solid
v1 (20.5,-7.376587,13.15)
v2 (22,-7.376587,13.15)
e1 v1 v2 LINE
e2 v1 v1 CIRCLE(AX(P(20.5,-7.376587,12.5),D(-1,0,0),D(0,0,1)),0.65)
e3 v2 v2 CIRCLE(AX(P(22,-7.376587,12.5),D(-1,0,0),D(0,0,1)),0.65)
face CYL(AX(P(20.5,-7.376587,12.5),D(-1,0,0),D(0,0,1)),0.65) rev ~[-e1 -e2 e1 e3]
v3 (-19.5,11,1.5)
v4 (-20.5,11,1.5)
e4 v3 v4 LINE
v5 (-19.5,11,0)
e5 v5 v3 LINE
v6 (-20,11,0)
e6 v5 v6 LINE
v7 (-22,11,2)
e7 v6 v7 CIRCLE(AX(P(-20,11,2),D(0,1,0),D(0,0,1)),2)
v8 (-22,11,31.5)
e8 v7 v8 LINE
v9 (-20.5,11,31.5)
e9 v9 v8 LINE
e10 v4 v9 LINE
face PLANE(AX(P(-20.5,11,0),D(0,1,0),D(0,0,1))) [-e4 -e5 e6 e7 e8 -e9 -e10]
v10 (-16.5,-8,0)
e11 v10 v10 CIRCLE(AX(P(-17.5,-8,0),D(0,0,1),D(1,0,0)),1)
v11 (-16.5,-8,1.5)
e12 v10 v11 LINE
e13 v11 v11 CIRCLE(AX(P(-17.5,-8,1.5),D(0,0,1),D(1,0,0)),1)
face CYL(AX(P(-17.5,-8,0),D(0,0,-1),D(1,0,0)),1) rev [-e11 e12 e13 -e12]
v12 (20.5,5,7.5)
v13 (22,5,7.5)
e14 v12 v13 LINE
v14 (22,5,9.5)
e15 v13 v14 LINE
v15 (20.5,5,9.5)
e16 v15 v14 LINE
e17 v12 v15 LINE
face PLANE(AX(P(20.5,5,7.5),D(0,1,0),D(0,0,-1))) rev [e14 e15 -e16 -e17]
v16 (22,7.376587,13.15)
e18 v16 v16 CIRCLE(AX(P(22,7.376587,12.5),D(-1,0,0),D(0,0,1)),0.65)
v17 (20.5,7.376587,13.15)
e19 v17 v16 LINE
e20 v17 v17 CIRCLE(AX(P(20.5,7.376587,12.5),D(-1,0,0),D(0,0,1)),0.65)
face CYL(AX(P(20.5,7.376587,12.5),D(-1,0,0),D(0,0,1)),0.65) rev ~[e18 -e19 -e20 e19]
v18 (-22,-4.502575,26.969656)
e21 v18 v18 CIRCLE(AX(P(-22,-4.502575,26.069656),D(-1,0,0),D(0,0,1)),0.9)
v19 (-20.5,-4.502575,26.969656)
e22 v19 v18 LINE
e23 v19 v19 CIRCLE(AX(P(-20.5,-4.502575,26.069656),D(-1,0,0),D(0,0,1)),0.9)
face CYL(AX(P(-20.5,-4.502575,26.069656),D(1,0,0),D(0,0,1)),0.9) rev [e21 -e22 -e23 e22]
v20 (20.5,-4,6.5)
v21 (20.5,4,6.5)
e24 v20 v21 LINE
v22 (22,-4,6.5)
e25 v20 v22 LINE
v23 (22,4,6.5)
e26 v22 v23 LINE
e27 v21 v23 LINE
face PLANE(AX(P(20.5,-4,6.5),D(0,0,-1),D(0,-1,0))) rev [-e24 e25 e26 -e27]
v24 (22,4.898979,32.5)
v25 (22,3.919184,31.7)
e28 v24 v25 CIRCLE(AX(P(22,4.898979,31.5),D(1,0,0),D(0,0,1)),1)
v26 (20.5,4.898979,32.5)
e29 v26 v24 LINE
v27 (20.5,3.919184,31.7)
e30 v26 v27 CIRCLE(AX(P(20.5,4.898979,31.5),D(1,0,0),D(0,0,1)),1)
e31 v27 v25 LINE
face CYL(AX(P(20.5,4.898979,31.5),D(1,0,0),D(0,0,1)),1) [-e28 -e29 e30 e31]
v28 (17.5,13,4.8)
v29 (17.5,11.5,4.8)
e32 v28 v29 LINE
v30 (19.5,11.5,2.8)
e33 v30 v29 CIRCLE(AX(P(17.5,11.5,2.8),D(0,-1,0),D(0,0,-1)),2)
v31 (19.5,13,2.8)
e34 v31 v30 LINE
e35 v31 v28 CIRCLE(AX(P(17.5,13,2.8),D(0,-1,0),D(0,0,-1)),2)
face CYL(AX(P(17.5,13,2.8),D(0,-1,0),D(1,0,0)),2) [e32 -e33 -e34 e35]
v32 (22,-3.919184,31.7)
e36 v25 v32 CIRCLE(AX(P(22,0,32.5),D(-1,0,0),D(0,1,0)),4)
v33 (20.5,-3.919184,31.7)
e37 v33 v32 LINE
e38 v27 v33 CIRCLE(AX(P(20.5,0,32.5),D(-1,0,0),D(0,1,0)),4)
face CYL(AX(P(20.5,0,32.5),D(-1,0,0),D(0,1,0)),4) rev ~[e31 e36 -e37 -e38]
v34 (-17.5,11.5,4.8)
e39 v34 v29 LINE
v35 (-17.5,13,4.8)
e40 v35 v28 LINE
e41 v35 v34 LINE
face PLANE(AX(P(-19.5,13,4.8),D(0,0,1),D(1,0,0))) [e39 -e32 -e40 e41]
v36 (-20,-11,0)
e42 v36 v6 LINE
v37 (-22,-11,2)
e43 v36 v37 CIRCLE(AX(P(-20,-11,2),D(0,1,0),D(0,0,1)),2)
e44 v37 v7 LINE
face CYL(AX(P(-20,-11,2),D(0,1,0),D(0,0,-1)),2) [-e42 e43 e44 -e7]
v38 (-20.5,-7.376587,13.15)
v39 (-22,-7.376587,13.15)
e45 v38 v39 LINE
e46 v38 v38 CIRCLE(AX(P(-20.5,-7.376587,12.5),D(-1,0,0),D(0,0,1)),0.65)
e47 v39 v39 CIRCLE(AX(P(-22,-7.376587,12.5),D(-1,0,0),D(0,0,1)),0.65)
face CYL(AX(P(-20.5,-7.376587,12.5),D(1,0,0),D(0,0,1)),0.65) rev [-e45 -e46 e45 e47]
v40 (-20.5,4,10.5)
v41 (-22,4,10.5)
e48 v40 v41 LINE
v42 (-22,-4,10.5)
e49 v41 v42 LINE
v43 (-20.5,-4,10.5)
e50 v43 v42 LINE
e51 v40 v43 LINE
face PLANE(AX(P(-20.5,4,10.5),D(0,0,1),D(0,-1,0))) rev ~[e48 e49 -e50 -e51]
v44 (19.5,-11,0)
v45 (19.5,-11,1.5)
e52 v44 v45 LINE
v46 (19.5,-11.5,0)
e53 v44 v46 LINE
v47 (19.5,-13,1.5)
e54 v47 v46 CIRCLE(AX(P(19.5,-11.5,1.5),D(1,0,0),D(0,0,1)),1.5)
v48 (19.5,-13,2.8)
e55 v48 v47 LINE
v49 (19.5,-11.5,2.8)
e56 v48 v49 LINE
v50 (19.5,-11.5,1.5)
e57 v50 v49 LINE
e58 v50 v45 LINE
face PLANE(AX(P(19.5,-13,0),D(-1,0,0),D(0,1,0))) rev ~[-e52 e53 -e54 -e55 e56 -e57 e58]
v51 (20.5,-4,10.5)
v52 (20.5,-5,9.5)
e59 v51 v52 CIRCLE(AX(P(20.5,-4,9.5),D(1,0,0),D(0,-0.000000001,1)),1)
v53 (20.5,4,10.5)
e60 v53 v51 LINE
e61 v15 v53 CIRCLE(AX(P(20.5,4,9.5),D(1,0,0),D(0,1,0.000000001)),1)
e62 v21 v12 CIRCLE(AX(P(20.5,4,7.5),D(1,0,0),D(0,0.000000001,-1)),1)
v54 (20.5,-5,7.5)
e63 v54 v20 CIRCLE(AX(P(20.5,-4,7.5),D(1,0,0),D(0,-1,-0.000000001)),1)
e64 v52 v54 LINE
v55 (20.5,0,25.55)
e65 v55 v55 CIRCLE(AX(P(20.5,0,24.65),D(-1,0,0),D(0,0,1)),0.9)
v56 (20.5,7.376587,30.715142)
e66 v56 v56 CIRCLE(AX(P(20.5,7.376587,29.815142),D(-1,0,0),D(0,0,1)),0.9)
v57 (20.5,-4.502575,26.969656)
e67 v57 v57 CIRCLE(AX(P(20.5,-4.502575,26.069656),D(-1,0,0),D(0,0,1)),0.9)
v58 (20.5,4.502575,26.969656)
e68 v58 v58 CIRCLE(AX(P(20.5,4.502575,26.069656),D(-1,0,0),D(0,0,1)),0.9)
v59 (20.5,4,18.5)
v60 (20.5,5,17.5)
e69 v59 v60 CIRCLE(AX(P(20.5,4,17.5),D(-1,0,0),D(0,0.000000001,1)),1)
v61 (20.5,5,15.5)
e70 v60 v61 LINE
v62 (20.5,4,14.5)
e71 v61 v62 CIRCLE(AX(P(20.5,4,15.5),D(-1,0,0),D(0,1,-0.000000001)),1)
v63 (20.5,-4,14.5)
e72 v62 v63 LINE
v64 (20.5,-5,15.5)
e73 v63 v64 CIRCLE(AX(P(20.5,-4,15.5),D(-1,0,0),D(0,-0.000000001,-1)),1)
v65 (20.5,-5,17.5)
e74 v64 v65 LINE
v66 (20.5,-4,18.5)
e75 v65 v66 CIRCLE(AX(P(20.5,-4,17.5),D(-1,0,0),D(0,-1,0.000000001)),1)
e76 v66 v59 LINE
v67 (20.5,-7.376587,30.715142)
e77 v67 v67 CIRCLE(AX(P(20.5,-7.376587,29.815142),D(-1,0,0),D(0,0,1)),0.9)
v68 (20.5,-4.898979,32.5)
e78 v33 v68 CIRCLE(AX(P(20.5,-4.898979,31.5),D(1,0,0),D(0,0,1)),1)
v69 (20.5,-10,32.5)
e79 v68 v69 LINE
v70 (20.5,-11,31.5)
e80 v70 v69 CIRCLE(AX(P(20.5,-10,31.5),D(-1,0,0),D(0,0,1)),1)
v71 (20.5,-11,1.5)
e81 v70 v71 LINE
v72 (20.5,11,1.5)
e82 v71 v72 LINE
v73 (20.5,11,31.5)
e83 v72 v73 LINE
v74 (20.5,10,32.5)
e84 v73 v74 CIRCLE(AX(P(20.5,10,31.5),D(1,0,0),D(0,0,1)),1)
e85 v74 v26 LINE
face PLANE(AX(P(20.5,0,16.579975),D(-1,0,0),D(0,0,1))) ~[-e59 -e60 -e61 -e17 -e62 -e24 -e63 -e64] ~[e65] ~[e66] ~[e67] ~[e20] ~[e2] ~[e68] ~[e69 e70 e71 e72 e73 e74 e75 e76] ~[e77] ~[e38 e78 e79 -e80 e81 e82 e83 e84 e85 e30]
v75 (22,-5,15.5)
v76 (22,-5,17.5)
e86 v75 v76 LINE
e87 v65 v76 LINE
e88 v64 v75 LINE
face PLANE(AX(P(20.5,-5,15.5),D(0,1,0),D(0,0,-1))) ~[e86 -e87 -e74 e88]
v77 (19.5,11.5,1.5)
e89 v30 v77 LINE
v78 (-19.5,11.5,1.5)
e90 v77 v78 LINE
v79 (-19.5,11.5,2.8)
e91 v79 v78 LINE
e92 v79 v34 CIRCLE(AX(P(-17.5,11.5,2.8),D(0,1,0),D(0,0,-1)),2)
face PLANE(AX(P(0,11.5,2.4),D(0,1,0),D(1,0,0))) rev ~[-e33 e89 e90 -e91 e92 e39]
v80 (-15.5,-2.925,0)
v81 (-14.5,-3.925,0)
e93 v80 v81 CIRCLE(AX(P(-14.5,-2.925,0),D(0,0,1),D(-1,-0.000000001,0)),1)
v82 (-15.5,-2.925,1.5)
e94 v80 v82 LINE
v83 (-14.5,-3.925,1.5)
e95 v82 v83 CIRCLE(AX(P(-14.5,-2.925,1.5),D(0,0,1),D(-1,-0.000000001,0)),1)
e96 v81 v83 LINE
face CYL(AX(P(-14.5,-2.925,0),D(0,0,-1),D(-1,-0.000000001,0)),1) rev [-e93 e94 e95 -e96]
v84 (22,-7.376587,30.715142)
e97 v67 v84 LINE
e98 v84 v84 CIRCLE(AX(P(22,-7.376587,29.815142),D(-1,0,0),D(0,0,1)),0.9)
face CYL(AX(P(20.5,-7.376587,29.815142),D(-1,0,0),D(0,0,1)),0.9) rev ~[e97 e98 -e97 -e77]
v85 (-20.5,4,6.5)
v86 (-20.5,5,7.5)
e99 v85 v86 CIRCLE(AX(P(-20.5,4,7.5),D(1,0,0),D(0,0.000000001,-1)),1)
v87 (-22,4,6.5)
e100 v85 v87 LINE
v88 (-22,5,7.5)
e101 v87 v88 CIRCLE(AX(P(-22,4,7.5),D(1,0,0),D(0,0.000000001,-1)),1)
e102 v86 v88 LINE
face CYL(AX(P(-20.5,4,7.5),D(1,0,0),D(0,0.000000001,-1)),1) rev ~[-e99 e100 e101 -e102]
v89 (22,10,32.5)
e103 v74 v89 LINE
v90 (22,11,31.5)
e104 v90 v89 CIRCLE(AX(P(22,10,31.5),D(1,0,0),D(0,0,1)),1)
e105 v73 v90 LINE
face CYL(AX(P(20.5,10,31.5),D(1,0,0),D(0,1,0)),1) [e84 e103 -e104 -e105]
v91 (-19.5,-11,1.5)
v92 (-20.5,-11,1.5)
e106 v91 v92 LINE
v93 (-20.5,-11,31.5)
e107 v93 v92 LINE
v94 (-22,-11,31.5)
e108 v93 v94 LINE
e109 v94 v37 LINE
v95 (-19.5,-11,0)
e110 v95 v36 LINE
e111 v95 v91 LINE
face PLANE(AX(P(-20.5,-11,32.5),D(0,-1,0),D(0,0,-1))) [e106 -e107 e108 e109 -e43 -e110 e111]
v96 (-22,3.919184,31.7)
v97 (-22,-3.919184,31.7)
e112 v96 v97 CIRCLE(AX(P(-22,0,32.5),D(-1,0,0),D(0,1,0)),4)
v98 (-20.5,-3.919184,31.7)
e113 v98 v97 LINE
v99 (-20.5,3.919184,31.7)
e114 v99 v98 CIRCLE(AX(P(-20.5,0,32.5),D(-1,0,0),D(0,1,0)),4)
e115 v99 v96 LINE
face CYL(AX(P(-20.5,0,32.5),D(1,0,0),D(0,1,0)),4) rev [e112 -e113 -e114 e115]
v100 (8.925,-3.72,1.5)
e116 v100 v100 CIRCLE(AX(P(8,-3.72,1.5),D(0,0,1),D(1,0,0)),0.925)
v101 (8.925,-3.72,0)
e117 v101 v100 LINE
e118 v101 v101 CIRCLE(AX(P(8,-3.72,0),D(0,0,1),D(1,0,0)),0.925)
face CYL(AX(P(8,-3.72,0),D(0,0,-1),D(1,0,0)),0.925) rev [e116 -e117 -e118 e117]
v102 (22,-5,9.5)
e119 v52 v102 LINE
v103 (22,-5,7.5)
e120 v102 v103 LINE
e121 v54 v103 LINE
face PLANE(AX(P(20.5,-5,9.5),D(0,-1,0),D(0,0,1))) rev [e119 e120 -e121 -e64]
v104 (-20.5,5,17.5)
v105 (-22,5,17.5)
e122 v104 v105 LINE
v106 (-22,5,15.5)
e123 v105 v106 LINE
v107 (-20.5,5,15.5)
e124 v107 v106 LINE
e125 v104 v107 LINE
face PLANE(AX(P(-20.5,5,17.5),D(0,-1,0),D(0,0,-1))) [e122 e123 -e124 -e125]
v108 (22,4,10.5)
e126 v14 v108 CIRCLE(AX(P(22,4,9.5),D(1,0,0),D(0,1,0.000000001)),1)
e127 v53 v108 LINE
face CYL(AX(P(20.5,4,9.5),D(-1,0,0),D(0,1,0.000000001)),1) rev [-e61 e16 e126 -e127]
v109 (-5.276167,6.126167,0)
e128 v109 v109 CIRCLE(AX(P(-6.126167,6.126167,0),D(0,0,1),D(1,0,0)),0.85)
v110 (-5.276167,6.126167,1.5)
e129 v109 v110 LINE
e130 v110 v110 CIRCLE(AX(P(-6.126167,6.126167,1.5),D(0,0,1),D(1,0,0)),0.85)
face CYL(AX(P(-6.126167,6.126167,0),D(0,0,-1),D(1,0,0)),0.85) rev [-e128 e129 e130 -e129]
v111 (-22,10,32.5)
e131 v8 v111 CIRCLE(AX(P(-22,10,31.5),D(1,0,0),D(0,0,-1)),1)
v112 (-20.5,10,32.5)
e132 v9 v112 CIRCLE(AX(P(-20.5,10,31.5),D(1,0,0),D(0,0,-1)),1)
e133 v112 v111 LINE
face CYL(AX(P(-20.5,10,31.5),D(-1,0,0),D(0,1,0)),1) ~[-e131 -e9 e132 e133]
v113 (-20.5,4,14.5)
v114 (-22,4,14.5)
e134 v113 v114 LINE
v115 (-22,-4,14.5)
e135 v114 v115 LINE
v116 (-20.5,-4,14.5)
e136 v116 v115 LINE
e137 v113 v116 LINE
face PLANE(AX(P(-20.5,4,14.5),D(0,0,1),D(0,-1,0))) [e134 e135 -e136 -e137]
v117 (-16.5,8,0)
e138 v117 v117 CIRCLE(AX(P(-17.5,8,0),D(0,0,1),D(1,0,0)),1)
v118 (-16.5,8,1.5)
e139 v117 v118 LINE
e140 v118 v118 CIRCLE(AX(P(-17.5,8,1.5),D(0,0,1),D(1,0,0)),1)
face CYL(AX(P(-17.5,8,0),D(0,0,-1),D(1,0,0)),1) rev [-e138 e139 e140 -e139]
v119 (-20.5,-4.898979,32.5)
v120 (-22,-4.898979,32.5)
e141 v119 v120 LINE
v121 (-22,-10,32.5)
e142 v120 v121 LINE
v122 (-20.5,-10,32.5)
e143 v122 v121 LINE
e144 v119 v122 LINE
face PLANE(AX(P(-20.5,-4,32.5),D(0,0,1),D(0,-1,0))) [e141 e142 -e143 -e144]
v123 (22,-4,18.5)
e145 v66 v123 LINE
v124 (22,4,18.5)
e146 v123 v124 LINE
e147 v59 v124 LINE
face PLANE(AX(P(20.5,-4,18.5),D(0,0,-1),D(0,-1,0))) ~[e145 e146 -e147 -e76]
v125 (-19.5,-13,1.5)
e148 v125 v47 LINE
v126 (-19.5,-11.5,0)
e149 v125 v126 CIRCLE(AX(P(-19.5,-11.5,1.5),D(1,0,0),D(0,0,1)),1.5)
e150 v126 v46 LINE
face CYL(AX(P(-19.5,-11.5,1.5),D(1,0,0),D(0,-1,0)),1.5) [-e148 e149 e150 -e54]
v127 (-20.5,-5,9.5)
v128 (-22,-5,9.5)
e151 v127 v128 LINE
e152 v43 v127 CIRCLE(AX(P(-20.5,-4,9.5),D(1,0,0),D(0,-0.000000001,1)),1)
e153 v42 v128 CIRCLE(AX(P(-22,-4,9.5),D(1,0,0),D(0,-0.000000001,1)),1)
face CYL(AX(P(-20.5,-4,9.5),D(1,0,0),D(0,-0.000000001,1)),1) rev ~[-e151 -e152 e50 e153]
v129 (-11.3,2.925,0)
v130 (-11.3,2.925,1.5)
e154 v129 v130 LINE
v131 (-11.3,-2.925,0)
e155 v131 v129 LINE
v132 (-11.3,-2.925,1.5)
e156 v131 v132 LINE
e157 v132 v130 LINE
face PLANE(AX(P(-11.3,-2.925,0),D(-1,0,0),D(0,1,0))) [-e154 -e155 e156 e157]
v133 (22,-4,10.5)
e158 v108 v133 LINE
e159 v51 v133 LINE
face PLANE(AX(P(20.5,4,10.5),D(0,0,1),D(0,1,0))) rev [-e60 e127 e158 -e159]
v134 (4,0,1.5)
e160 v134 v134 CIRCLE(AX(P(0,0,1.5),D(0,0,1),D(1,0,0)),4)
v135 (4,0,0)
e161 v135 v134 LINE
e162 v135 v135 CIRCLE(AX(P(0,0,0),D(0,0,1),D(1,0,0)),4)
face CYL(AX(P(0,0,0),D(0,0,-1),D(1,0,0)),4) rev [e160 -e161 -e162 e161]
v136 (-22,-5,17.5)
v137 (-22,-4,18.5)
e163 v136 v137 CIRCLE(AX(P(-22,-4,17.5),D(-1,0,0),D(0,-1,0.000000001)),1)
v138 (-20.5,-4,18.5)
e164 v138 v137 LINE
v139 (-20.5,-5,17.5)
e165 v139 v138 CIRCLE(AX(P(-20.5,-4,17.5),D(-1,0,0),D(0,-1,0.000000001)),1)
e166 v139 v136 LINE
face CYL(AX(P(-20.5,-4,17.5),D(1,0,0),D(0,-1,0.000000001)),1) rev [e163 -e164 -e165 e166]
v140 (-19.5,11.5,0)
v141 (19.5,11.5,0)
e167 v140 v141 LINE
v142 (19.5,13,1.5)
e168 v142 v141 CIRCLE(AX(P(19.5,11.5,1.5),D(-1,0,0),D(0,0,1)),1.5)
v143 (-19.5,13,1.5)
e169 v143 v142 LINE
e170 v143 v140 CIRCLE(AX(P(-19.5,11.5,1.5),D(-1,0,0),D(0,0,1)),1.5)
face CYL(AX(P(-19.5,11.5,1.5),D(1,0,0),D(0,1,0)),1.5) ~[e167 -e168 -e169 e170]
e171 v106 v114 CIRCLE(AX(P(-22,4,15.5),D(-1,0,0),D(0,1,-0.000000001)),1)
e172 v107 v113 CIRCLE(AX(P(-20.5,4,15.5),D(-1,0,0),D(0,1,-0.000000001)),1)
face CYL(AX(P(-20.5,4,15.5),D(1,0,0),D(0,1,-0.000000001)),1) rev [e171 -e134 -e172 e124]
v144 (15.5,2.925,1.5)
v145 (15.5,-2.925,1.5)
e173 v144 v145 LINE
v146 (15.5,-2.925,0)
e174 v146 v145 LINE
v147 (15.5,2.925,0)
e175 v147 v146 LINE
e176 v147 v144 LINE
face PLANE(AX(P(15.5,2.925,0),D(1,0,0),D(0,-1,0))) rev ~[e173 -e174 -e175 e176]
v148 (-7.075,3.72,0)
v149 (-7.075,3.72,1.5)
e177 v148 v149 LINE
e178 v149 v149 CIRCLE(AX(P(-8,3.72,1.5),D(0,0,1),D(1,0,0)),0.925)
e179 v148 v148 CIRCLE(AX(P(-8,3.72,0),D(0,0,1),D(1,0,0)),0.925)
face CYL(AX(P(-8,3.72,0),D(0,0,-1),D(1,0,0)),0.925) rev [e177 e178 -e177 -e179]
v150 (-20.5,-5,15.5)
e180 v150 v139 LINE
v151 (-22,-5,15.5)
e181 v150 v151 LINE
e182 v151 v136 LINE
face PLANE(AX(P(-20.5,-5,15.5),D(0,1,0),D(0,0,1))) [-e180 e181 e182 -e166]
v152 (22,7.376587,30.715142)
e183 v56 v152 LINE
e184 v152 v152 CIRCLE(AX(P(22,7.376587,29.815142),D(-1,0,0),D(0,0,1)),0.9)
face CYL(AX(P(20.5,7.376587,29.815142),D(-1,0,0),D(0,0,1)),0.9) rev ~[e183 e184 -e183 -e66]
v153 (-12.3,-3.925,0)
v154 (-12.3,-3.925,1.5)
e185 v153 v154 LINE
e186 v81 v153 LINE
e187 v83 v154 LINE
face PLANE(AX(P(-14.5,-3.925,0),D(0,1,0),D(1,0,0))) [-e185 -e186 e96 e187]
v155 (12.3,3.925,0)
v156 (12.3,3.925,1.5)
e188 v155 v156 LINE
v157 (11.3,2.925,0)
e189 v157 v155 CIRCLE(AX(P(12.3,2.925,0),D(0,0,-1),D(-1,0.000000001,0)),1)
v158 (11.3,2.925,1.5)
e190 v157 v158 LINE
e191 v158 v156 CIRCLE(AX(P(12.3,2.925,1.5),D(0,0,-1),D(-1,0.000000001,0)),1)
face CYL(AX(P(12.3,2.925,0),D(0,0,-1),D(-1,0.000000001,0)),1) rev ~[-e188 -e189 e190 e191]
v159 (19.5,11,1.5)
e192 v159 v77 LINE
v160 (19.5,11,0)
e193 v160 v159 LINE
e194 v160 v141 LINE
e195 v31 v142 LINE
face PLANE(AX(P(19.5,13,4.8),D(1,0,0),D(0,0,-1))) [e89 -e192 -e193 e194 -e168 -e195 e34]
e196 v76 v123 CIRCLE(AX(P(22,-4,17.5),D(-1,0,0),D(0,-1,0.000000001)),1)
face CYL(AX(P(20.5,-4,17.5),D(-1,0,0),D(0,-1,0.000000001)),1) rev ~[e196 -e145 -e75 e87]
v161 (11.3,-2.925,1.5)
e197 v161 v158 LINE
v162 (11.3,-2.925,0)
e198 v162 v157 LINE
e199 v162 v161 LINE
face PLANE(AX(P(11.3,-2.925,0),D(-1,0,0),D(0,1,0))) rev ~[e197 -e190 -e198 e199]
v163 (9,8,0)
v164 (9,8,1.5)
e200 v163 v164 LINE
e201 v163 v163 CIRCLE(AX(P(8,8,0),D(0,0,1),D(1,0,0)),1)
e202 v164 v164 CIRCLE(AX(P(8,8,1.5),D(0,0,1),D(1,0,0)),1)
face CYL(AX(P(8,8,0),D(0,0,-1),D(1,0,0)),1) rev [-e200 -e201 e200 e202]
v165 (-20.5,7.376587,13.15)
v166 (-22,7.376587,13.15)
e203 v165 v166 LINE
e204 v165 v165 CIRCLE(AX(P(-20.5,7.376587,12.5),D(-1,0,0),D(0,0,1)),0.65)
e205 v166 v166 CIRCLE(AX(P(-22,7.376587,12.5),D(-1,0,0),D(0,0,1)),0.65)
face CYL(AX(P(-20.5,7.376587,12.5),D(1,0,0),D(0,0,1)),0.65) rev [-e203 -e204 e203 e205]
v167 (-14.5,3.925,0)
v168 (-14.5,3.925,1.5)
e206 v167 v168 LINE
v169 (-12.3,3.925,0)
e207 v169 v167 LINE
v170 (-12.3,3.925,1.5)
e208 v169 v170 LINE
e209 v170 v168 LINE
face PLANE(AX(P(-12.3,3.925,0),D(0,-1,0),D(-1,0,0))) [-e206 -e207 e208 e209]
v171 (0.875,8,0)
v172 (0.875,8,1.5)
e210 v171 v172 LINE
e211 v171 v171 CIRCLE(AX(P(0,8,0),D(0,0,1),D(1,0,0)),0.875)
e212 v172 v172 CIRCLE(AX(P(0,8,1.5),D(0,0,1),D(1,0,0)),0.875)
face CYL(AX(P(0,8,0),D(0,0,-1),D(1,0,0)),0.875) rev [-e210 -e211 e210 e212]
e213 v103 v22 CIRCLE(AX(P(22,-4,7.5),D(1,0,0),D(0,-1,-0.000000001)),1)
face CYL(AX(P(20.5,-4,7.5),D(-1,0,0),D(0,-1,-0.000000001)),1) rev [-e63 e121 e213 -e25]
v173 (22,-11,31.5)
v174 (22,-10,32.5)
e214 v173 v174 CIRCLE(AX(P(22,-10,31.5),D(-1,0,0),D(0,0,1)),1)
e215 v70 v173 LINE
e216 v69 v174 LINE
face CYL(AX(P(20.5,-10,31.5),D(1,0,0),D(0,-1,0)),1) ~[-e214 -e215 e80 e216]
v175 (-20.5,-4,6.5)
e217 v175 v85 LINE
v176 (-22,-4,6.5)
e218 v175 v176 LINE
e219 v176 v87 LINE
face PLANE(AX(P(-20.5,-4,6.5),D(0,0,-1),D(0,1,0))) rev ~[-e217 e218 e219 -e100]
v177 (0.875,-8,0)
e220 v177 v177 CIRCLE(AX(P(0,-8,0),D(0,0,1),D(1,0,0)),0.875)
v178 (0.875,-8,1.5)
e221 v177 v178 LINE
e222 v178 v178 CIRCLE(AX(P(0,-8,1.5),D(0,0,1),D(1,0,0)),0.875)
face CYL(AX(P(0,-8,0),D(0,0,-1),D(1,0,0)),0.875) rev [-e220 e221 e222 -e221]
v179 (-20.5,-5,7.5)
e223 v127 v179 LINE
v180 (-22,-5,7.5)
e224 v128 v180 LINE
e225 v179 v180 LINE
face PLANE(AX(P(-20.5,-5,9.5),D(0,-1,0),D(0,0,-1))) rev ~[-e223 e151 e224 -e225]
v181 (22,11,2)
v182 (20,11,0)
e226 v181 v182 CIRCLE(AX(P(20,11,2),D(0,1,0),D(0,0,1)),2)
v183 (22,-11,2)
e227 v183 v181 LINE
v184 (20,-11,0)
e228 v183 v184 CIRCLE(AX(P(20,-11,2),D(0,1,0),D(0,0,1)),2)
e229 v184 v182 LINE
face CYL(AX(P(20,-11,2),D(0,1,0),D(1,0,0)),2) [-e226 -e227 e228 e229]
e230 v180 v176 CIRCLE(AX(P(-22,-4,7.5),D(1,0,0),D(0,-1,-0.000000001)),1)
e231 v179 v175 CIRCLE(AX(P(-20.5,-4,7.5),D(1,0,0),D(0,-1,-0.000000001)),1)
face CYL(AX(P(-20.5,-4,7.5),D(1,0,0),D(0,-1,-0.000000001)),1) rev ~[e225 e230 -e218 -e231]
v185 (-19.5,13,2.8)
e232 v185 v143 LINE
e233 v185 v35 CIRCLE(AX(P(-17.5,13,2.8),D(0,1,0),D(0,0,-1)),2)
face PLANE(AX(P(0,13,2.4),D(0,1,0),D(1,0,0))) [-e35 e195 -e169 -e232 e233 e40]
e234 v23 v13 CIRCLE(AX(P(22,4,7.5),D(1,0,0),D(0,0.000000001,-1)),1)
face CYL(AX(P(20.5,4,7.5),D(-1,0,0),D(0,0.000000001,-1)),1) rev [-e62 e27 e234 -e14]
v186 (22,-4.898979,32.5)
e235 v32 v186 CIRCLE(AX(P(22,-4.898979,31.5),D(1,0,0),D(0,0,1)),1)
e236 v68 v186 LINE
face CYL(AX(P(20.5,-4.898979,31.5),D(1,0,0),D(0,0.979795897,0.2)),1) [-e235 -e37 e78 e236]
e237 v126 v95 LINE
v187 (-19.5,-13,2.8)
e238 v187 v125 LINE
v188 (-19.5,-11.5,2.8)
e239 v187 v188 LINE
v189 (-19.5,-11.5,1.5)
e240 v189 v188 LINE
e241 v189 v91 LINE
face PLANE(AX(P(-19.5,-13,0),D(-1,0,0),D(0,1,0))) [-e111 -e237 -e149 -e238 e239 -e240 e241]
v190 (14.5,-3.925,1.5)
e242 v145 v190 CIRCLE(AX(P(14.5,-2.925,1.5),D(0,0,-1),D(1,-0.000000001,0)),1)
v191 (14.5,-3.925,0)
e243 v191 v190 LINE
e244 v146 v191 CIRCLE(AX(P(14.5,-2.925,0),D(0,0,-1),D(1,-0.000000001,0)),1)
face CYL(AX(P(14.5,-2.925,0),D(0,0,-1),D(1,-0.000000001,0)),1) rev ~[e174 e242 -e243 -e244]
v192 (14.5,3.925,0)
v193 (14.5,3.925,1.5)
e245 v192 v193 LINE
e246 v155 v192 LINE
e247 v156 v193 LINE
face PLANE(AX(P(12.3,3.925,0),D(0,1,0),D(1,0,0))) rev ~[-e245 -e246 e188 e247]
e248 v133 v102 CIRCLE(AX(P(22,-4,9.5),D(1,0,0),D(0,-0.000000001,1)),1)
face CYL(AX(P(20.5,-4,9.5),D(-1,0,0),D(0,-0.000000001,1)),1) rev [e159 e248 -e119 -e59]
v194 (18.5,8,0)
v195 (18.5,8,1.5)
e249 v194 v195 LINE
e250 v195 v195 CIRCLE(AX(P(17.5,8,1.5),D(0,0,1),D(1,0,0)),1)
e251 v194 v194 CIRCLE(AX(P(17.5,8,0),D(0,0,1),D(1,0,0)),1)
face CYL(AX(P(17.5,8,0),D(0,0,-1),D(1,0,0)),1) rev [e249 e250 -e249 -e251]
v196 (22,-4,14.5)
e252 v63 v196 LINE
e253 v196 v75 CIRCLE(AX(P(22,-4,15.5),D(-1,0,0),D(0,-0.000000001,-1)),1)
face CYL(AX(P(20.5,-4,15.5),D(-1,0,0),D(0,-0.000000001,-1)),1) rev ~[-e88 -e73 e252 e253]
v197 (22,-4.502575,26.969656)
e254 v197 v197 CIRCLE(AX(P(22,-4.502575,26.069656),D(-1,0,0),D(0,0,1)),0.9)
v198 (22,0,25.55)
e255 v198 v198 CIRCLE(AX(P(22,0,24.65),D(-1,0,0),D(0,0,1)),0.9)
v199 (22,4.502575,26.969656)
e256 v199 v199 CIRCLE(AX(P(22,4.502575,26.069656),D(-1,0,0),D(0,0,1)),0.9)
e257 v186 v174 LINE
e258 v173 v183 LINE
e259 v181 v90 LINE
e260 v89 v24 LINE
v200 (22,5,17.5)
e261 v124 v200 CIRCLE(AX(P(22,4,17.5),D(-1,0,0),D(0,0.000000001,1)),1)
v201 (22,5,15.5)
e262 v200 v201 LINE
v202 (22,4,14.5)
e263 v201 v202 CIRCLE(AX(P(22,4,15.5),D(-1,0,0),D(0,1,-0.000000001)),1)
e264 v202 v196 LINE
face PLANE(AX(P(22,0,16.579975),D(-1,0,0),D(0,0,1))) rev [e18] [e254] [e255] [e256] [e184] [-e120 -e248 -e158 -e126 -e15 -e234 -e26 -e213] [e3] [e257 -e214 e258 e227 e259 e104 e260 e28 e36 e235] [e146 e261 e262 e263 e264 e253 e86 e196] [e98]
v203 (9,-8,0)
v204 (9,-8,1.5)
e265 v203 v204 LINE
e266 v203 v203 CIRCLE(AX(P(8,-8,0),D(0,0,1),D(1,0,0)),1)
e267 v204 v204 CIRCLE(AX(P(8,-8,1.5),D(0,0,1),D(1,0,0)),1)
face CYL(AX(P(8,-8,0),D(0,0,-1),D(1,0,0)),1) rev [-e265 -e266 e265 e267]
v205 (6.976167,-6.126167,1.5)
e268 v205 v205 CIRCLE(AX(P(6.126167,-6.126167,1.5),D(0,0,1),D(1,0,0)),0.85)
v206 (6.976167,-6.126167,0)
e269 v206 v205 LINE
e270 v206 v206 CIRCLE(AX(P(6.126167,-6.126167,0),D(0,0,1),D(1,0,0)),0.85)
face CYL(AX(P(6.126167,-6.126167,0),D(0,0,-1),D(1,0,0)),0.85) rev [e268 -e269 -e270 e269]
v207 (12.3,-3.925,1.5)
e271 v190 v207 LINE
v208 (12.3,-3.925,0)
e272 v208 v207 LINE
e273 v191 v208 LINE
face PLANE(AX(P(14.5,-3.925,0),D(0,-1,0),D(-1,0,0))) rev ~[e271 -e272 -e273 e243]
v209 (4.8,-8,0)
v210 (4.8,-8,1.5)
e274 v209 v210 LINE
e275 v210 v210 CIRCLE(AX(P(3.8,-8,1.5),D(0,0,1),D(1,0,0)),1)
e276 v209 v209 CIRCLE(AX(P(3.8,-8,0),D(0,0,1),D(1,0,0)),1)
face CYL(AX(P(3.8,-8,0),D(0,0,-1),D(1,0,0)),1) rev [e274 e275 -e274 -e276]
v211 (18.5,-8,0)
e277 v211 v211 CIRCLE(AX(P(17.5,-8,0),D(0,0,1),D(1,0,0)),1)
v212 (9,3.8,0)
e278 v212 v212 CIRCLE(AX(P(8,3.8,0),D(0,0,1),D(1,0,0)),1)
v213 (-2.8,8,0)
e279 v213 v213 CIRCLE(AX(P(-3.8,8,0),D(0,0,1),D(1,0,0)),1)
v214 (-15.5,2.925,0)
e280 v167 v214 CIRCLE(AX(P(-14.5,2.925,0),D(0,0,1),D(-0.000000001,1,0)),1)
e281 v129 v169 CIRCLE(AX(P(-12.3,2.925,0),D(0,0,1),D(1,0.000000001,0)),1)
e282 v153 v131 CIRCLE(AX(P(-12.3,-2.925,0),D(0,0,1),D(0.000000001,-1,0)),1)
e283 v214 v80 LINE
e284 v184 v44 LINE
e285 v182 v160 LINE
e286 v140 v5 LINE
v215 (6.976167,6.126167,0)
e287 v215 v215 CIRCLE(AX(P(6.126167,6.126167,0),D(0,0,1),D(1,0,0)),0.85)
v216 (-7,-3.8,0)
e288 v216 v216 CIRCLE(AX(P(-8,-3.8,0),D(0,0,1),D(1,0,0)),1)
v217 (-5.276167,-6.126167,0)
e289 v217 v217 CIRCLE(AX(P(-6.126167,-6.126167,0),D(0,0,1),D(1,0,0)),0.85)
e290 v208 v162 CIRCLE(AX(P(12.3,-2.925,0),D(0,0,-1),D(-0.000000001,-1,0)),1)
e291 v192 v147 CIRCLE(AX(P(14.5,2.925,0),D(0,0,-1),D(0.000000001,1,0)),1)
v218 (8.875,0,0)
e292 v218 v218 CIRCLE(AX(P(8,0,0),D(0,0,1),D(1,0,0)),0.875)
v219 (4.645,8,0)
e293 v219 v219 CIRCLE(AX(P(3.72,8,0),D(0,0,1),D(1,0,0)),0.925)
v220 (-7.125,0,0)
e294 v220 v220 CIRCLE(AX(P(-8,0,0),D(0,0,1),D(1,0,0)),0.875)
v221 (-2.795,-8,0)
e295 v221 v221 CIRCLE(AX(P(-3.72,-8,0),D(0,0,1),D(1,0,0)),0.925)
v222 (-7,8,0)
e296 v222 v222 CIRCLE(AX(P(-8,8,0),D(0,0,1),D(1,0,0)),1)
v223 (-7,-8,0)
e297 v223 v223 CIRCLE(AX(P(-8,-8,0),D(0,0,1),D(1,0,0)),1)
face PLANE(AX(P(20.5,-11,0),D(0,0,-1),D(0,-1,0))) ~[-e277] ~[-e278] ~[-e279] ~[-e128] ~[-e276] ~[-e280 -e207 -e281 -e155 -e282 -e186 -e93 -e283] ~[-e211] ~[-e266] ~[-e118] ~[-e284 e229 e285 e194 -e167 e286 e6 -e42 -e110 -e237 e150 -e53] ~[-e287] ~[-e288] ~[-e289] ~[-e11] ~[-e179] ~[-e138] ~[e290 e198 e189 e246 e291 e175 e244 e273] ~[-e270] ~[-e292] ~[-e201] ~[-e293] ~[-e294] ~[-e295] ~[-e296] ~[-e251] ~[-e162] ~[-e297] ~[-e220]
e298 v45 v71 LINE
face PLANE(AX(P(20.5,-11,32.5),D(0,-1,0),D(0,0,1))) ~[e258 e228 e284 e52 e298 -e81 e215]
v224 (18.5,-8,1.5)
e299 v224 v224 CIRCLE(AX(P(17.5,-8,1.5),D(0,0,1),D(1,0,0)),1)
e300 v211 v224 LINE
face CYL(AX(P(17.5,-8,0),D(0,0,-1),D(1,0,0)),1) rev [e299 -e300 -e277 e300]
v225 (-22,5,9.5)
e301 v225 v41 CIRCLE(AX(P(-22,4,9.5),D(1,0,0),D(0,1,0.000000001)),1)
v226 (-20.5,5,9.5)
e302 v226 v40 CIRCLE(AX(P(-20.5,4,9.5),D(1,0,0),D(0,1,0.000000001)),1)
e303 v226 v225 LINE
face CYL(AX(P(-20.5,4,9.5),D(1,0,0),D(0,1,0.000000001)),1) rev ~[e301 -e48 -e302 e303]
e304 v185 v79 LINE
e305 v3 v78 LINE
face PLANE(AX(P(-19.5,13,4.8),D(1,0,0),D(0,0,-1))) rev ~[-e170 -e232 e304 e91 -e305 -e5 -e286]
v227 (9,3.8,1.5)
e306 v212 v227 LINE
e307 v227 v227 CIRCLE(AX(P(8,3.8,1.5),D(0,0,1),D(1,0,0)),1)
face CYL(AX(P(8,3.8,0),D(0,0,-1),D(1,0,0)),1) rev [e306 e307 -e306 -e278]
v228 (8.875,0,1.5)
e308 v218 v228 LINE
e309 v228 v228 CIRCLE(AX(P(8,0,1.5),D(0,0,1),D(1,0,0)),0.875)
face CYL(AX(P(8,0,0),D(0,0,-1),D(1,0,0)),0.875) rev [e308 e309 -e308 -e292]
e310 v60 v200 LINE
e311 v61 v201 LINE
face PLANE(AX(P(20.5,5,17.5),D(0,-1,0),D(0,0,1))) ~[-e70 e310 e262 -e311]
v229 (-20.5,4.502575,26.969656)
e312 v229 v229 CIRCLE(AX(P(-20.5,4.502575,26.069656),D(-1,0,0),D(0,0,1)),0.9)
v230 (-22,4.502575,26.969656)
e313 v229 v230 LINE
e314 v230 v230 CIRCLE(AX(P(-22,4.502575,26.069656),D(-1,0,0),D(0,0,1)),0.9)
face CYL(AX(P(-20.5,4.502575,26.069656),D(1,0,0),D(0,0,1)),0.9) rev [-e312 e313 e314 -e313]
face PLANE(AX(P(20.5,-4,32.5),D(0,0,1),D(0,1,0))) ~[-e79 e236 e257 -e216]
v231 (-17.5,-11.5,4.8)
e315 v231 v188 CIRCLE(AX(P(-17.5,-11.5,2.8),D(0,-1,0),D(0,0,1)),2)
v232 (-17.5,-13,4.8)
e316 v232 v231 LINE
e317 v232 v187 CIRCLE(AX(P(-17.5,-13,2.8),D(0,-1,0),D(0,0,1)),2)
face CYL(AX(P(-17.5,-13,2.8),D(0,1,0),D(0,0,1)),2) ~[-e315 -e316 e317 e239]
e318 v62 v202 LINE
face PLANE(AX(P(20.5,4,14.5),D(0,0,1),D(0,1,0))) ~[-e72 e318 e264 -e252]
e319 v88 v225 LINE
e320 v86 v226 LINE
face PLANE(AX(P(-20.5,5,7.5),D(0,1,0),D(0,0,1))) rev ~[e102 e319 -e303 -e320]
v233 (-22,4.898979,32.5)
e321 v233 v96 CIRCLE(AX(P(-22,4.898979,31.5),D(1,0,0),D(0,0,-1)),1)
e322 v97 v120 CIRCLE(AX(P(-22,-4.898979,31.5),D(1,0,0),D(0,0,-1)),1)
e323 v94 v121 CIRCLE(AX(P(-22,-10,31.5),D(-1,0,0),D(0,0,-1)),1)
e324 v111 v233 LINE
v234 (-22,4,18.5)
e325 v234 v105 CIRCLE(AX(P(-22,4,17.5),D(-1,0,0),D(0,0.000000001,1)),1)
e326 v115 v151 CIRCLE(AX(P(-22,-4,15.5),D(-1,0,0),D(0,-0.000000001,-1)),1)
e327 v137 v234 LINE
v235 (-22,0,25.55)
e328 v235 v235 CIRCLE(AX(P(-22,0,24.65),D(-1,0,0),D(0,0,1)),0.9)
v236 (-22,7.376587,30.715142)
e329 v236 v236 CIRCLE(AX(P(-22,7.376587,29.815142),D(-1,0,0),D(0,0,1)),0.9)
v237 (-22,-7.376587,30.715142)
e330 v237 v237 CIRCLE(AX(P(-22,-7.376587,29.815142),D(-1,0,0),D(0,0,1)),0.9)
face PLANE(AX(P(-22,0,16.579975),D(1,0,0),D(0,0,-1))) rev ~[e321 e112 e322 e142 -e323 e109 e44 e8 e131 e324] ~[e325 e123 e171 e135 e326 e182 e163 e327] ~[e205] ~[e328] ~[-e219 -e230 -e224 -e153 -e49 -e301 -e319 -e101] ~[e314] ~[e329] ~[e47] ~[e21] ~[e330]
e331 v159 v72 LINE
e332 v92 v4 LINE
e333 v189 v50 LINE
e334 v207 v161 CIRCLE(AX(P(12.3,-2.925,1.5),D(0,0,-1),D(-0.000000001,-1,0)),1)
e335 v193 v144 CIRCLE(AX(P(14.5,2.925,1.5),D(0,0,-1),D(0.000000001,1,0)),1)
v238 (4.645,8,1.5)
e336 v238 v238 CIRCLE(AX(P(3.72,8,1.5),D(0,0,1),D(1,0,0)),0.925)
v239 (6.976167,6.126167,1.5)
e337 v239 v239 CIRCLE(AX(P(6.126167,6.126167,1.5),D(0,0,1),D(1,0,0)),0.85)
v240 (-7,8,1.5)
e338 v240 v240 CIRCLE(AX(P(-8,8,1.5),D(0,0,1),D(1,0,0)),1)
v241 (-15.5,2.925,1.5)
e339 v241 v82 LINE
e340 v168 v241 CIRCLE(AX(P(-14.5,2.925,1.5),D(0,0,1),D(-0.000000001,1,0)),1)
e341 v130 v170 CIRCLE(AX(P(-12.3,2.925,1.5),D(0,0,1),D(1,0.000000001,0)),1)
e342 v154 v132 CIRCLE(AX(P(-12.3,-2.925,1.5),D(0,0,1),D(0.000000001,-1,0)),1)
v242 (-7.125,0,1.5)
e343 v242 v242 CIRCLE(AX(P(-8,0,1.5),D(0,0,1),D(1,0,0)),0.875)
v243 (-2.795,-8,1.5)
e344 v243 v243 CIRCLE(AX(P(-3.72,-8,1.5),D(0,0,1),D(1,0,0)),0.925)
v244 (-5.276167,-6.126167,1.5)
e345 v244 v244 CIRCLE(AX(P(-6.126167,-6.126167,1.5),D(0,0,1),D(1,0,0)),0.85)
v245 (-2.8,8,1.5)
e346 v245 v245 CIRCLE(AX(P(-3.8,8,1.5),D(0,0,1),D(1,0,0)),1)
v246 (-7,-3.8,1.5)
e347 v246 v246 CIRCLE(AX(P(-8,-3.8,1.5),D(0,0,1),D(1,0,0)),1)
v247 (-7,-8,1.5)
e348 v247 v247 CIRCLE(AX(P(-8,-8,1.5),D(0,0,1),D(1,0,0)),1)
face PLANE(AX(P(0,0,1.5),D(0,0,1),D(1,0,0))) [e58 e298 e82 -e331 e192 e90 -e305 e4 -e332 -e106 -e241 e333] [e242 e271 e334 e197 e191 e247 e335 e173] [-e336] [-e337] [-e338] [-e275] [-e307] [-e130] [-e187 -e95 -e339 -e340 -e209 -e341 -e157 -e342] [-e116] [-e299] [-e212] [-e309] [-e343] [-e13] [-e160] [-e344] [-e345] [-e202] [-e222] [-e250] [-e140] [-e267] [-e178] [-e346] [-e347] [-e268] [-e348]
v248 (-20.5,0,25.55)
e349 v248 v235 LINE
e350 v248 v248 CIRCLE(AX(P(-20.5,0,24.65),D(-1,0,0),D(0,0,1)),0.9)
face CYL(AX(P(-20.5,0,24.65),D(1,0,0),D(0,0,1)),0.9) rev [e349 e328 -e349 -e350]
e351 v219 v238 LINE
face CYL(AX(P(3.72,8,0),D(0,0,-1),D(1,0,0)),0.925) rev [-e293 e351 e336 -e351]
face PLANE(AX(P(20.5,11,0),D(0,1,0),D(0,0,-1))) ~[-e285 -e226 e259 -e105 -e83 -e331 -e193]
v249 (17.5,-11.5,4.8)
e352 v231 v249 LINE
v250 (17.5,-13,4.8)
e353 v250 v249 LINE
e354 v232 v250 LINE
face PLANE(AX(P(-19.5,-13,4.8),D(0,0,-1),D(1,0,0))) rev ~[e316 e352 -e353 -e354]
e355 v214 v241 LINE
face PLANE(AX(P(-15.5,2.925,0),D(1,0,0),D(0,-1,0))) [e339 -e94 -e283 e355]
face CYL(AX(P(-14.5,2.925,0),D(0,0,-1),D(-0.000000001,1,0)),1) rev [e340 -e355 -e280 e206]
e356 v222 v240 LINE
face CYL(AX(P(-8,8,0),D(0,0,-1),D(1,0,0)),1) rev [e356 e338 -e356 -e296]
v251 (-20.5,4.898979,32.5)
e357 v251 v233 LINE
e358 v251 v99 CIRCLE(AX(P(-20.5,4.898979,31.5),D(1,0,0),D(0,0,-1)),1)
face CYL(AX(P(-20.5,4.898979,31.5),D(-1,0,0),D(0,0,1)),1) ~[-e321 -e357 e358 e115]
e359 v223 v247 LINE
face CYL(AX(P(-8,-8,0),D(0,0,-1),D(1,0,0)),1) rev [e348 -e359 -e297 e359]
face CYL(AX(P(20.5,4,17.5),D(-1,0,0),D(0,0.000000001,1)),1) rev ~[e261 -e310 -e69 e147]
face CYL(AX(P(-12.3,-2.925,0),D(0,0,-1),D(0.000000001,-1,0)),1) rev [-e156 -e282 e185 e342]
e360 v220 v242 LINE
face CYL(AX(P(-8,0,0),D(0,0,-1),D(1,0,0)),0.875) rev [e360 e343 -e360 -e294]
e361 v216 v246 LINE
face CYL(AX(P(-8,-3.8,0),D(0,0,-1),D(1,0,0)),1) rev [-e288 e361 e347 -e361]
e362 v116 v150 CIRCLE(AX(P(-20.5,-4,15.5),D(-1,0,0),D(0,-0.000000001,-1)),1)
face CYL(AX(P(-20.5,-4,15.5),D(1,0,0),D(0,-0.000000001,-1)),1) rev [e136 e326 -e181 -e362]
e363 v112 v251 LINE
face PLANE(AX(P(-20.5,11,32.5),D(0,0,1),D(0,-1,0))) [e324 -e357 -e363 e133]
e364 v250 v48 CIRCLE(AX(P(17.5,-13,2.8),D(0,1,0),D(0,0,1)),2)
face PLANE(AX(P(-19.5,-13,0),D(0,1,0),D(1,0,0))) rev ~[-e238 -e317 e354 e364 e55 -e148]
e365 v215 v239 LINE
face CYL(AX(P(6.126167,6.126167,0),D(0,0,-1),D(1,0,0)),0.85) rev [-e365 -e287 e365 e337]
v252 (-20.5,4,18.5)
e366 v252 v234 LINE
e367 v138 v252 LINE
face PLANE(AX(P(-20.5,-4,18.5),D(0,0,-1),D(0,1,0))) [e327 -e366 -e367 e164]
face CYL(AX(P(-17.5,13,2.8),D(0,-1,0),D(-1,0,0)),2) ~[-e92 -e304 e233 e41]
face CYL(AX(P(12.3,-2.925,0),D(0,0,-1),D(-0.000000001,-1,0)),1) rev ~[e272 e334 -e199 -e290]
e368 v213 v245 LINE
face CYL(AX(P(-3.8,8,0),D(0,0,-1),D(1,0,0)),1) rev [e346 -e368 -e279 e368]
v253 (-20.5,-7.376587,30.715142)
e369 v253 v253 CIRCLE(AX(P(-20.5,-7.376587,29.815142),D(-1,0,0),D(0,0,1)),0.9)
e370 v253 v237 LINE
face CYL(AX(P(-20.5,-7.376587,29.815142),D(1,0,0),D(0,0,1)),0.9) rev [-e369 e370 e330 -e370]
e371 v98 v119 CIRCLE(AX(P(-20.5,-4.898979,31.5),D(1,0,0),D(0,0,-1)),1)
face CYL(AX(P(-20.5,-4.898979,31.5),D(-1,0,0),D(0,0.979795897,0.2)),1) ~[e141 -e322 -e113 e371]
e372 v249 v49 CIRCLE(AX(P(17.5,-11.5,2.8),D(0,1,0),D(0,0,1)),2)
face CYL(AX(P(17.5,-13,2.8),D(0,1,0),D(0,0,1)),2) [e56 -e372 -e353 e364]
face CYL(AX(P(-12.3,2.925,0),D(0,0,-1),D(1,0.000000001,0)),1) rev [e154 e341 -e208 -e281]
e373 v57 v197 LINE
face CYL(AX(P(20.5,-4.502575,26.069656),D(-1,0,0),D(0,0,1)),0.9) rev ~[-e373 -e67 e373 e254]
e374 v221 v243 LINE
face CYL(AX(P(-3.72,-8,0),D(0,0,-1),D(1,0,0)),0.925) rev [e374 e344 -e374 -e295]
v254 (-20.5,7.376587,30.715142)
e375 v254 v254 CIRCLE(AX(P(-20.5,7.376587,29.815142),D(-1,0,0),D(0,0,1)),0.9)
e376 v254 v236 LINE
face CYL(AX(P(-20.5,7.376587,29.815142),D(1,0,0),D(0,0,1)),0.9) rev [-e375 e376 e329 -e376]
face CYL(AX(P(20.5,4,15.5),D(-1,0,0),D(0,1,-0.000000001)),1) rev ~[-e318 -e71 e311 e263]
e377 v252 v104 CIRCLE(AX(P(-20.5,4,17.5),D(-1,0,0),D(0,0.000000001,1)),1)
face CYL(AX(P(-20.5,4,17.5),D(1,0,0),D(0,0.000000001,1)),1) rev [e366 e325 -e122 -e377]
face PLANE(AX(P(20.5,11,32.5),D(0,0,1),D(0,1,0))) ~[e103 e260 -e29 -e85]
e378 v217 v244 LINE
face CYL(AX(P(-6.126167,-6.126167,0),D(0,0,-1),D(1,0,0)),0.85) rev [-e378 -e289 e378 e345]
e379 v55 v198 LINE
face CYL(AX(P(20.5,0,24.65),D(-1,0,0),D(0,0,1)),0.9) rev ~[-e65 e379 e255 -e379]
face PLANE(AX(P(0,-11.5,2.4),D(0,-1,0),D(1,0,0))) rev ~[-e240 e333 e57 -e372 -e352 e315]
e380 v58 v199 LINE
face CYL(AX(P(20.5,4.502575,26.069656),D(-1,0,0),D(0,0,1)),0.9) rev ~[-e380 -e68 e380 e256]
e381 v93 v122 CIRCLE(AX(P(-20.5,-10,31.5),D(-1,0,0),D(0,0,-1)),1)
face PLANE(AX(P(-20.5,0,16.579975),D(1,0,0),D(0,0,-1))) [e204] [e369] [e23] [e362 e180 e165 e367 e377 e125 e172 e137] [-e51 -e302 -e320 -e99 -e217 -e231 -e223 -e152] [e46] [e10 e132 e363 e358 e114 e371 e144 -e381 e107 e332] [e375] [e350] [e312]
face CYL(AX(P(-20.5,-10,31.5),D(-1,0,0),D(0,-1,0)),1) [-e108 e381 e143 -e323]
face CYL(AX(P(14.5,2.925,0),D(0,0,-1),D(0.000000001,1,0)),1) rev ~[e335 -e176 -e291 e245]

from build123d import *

# Parameters (mm, degrees)
SKETCH1_W            = 39
SKETCH1_H            = 26
SKETCH1_R            = 1
SKETCH1_R_2          = 0.925
SKETCH1_R_3          = 0.875
SKETCH1_R_4          = 0.85
SKETCH1_R_5          = 4
BOSS_EXTRUDE1_DEPTH  = 1.5
SKETCH2_W            = 1.5
SKETCH2_H            = 22
BOSS_EXTRUDE2_DEPTH  = 1
SKETCH3_R            = 0.9
SKETCH3_R_2          = 0.65
BOSS_EXTRUDE3_DEPTH  = 1.5
FILLET1_R            = 2
FILLET2_R            = 1
FILLET1_OF_MIRROR1_R = 2
FILLET2_OF_MIRROR1_R = 1
SKETCH4_W            = 39
SKETCH4_H            = 4.8
BOSS_EXTRUDE4_DEPTH  = 1.5
FILLET3_R            = 2
FILLET4_R            = 1.5
SKETCH5_W            = 39
SKETCH5_H            = 4.8
BOSS_EXTRUDE5_DEPTH  = 1.5
FILLET5_R            = 2
FILLET6_R            = 1.5


with BuildPart() as part:
    # Sketch1 → Boss-Extrude1 (new body)
    with BuildSketch(Plane.XY):
        Rectangle(SKETCH1_W, SKETCH1_H)
        with Locations((-17.5, -8)):
            Circle(SKETCH1_R, mode=Mode.SUBTRACT)
        with Locations((-8, -8)):
            Circle(SKETCH1_R, mode=Mode.SUBTRACT)
        with Locations((-3.72, -8)):
            Circle(SKETCH1_R_2, mode=Mode.SUBTRACT)
        with Locations((0, -8)):
            Circle(SKETCH1_R_3, mode=Mode.SUBTRACT)
        with Locations((-6.12616703, -6.12616703)):
            Circle(SKETCH1_R_4, mode=Mode.SUBTRACT)
        with Locations((-8, -3.8)):
            Circle(SKETCH1_R, mode=Mode.SUBTRACT)
        with Locations((3.8, -8)):
            Circle(SKETCH1_R, mode=Mode.SUBTRACT)
        with Locations((8, -8)):
            Circle(SKETCH1_R, mode=Mode.SUBTRACT)
        with Locations((17.5, -8)):
            Circle(SKETCH1_R, mode=Mode.SUBTRACT)
        with Locations((6.12616703, -6.12616703)):
            Circle(SKETCH1_R_4, mode=Mode.SUBTRACT)
        with Locations((8, -3.72)):
            Circle(SKETCH1_R_2, mode=Mode.SUBTRACT)
        with Locations((8, 0)):
            Circle(SKETCH1_R_3, mode=Mode.SUBTRACT)
        with BuildLine():
            ThreePointArc((11.3, 2.925), (11.592893219, 3.632106781), (12.3, 3.925))
            Line((12.3, 3.925), (14.5, 3.925))
            ThreePointArc((14.5, 3.925), (15.207106781, 3.632106781), (15.5, 2.925))
            Line((15.5, 2.925), (15.5, -2.925))
            ThreePointArc((15.5, -2.925), (15.207106781, -3.632106781), (14.5, -3.925))
            Line((14.5, -3.925), (12.3, -3.925))
            ThreePointArc((12.3, -3.925), (11.592893219, -3.632106781), (11.3, -2.925))
            Line((11.3, -2.925), (11.3, 2.925))
        make_face(mode=Mode.SUBTRACT)
        with BuildLine():
            Line((-14.5, 3.925), (-12.3, 3.925))
            ThreePointArc((-12.3, 3.925), (-11.592893219, 3.632106781), (-11.3, 2.925))
            Line((-11.3, 2.925), (-11.3, -2.925))
            ThreePointArc((-11.3, -2.925), (-11.592893219, -3.632106781), (-12.3, -3.925))
            Line((-12.3, -3.925), (-14.5, -3.925))
            ThreePointArc((-14.5, -3.925), (-15.207106781, -3.632106781), (-15.5, -2.925))
            Line((-15.5, -2.925), (-15.5, 2.925))
            ThreePointArc((-15.5, 2.925), (-15.207106781, 3.632106781), (-14.5, 3.925))
        make_face(mode=Mode.SUBTRACT)
        with Locations((-8, 0)):
            Circle(SKETCH1_R_3, mode=Mode.SUBTRACT)
        Circle(SKETCH1_R_5, mode=Mode.SUBTRACT)
        with Locations((-8, 3.72)):
            Circle(SKETCH1_R_2, mode=Mode.SUBTRACT)
        with Locations((-6.12616703, 6.12616703)):
            Circle(SKETCH1_R_4, mode=Mode.SUBTRACT)
        with Locations((-17.5, 8)):
            Circle(SKETCH1_R, mode=Mode.SUBTRACT)
        with Locations((-8, 8)):
            Circle(SKETCH1_R, mode=Mode.SUBTRACT)
        with Locations((-3.8, 8)):
            Circle(SKETCH1_R, mode=Mode.SUBTRACT)
        with Locations((8, 3.8)):
            Circle(SKETCH1_R, mode=Mode.SUBTRACT)
        with Locations((6.12616703, 6.12616703)):
            Circle(SKETCH1_R_4, mode=Mode.SUBTRACT)
        with Locations((0, 8)):
            Circle(SKETCH1_R_3, mode=Mode.SUBTRACT)
        with Locations((3.72, 8)):
            Circle(SKETCH1_R_2, mode=Mode.SUBTRACT)
        with Locations((8, 8)):
            Circle(SKETCH1_R, mode=Mode.SUBTRACT)
        with Locations((17.5, 8)):
            Circle(SKETCH1_R, mode=Mode.SUBTRACT)
    extrude(amount=BOSS_EXTRUDE1_DEPTH)

    # Sketch2 → Boss-Extrude2 (add)
    with BuildSketch(Plane.ZY.offset(19.5)):
        with Locations((0.75, 0)):
            Rectangle(SKETCH2_W, SKETCH2_H)
    boss_extrude2 = extrude(amount=BOSS_EXTRUDE2_DEPTH)

    # Sketch3 → Boss-Extrude3 (add)
    with BuildSketch(Plane.ZY.offset(20.5)):
        with BuildLine():
            Line((0, 11), (32.5, 11))
            Line((32.5, 11), (32.5, 4))
            ThreePointArc((32.5, 4), (28.5, 0), (32.5, -4))
            Line((32.5, -4), (32.5, -11))
            Line((32.5, -11), (0, -11))
            Line((0, -11), (0, 11))
        make_face()
        with Locations((24.65, 0)):
            Circle(SKETCH3_R, mode=Mode.SUBTRACT)
        with Locations((26.069656452, 4.502575025)):
            Circle(SKETCH3_R, mode=Mode.SUBTRACT)
        with Locations((29.815141875, 7.376587073)):
            Circle(SKETCH3_R, mode=Mode.SUBTRACT)
        with Locations((29.815141875, -7.376587073)):
            Circle(SKETCH3_R, mode=Mode.SUBTRACT)
        with Locations((26.069656452, -4.502575025)):
            Circle(SKETCH3_R, mode=Mode.SUBTRACT)
        with Locations((12.5, 7.376587073)):
            Circle(SKETCH3_R_2, mode=Mode.SUBTRACT)
        with Locations((12.5, -7.376587073)):
            Circle(SKETCH3_R_2, mode=Mode.SUBTRACT)
        with BuildLine():
            Line((15.5, -5), (17.5, -5))
            ThreePointArc((17.5, -5), (18.207106781, -4.707106781), (18.5, -4))
            Line((18.5, -4), (18.5, 4))
            ThreePointArc((18.5, 4), (18.207106781, 4.707106781), (17.5, 5))
            Line((17.5, 5), (15.5, 5))
            ThreePointArc((15.5, 5), (14.792893219, 4.707106781), (14.5, 4))
            Line((14.5, 4), (14.5, -4))
            ThreePointArc((14.5, -4), (14.792893219, -4.707106781), (15.5, -5))
        make_face(mode=Mode.SUBTRACT)
        with BuildLine():
            Line((7.5, 5), (9.5, 5))
            ThreePointArc((9.5, 5), (10.207106781, 4.707106781), (10.5, 4))
            Line((10.5, 4), (10.5, -4))
            ThreePointArc((10.5, -4), (10.207106781, -4.707106781), (9.5, -5))
            Line((9.5, -5), (7.5, -5))
            ThreePointArc((7.5, -5), (6.792893219, -4.707106781), (6.5, -4))
            Line((6.5, -4), (6.5, 4))
            ThreePointArc((6.5, 4), (6.792893219, 4.707106781), (7.5, 5))
        make_face(mode=Mode.SUBTRACT)
    boss_extrude3 = extrude(amount=BOSS_EXTRUDE3_DEPTH)

    # Fillet1
    fillet1_edges = [part.edges().sort_by_distance(p)[0] for p in [
        (-22, 0, 0),
    ]]
    fillet(fillet1_edges, radius=FILLET1_R)

    # Fillet2
    fillet2_edges = [part.edges().sort_by_distance(p)[0] for p in [
        (-21.25, 11, 32.5),
        (-21.25, 4, 32.5),
        (-21.25, -4, 32.5),
        (-21.25, -11, 32.5),
    ]]
    fillet(fillet2_edges, radius=FILLET2_R)

    # Mirror1: Boss-Extrude2, Boss-Extrude3 across plane
    add(boss_extrude2.mirror(Plane(origin=(0, 0, 0), x_dir=(0, 0, 1), z_dir=(1, 0, 0))))
    add(boss_extrude3.mirror(Plane(origin=(0, 0, 0), x_dir=(0, 0, 1), z_dir=(1, 0, 0))))

    # Fillet1 of Mirror1
    fillet1_of_mirror1_edges = [part.edges().sort_by_distance(p)[0] for p in [
        (22, 0, 0),
    ]]
    fillet(fillet1_of_mirror1_edges, radius=FILLET1_OF_MIRROR1_R)

    # Fillet2 of Mirror1
    fillet2_of_mirror1_edges = [part.edges().sort_by_distance(p)[0] for p in [
        (21.25, 11, 32.5),
        (21.25, 4, 32.5),
        (21.25, -4, 32.5),
        (21.25, -11, 32.5),
    ]]
    fillet(fillet2_of_mirror1_edges, radius=FILLET2_OF_MIRROR1_R)

    # Sketch4 → Boss-Extrude4 (add)
    with BuildSketch(Plane(origin=(0, 13, 0), x_dir=(1, 0, 0), z_dir=(0, 1, 0))):
        with Locations((0, -2.4)):
            Rectangle(SKETCH4_W, SKETCH4_H)
    extrude(amount=-BOSS_EXTRUDE4_DEPTH)

    # Fillet3
    fillet3_edges = [part.edges().sort_by_distance(p)[0] for p in [
        (19.5, 12.25, 4.8),
        (-19.5, 12.25, 4.8),
    ]]
    fillet(fillet3_edges, radius=FILLET3_R)

    # Fillet4
    fillet4_edges = [part.edges().sort_by_distance(p)[0] for p in [
        (0, 13, 0),
    ]]
    fillet(fillet4_edges, radius=FILLET4_R)

    # Sketch5 → Boss-Extrude5 (add)
    with BuildSketch(Plane.XZ.offset(13)):
        with Locations((0, 2.4)):
            Rectangle(SKETCH5_W, SKETCH5_H)
    extrude(amount=-BOSS_EXTRUDE5_DEPTH)

    # Fillet5
    fillet5_edges = [part.edges().sort_by_distance(p)[0] for p in [
        (-19.5, -12.25, 4.8),
        (19.5, -12.25, 4.8),
    ]]
    fillet(fillet5_edges, radius=FILLET5_R)

    # Fillet6
    fillet6_edges = [part.edges().sort_by_distance(p)[0] for p in [
        (0, -13, 0),
    ]]
    fillet(fillet6_edges, radius=FILLET6_R)


solid = part.part
